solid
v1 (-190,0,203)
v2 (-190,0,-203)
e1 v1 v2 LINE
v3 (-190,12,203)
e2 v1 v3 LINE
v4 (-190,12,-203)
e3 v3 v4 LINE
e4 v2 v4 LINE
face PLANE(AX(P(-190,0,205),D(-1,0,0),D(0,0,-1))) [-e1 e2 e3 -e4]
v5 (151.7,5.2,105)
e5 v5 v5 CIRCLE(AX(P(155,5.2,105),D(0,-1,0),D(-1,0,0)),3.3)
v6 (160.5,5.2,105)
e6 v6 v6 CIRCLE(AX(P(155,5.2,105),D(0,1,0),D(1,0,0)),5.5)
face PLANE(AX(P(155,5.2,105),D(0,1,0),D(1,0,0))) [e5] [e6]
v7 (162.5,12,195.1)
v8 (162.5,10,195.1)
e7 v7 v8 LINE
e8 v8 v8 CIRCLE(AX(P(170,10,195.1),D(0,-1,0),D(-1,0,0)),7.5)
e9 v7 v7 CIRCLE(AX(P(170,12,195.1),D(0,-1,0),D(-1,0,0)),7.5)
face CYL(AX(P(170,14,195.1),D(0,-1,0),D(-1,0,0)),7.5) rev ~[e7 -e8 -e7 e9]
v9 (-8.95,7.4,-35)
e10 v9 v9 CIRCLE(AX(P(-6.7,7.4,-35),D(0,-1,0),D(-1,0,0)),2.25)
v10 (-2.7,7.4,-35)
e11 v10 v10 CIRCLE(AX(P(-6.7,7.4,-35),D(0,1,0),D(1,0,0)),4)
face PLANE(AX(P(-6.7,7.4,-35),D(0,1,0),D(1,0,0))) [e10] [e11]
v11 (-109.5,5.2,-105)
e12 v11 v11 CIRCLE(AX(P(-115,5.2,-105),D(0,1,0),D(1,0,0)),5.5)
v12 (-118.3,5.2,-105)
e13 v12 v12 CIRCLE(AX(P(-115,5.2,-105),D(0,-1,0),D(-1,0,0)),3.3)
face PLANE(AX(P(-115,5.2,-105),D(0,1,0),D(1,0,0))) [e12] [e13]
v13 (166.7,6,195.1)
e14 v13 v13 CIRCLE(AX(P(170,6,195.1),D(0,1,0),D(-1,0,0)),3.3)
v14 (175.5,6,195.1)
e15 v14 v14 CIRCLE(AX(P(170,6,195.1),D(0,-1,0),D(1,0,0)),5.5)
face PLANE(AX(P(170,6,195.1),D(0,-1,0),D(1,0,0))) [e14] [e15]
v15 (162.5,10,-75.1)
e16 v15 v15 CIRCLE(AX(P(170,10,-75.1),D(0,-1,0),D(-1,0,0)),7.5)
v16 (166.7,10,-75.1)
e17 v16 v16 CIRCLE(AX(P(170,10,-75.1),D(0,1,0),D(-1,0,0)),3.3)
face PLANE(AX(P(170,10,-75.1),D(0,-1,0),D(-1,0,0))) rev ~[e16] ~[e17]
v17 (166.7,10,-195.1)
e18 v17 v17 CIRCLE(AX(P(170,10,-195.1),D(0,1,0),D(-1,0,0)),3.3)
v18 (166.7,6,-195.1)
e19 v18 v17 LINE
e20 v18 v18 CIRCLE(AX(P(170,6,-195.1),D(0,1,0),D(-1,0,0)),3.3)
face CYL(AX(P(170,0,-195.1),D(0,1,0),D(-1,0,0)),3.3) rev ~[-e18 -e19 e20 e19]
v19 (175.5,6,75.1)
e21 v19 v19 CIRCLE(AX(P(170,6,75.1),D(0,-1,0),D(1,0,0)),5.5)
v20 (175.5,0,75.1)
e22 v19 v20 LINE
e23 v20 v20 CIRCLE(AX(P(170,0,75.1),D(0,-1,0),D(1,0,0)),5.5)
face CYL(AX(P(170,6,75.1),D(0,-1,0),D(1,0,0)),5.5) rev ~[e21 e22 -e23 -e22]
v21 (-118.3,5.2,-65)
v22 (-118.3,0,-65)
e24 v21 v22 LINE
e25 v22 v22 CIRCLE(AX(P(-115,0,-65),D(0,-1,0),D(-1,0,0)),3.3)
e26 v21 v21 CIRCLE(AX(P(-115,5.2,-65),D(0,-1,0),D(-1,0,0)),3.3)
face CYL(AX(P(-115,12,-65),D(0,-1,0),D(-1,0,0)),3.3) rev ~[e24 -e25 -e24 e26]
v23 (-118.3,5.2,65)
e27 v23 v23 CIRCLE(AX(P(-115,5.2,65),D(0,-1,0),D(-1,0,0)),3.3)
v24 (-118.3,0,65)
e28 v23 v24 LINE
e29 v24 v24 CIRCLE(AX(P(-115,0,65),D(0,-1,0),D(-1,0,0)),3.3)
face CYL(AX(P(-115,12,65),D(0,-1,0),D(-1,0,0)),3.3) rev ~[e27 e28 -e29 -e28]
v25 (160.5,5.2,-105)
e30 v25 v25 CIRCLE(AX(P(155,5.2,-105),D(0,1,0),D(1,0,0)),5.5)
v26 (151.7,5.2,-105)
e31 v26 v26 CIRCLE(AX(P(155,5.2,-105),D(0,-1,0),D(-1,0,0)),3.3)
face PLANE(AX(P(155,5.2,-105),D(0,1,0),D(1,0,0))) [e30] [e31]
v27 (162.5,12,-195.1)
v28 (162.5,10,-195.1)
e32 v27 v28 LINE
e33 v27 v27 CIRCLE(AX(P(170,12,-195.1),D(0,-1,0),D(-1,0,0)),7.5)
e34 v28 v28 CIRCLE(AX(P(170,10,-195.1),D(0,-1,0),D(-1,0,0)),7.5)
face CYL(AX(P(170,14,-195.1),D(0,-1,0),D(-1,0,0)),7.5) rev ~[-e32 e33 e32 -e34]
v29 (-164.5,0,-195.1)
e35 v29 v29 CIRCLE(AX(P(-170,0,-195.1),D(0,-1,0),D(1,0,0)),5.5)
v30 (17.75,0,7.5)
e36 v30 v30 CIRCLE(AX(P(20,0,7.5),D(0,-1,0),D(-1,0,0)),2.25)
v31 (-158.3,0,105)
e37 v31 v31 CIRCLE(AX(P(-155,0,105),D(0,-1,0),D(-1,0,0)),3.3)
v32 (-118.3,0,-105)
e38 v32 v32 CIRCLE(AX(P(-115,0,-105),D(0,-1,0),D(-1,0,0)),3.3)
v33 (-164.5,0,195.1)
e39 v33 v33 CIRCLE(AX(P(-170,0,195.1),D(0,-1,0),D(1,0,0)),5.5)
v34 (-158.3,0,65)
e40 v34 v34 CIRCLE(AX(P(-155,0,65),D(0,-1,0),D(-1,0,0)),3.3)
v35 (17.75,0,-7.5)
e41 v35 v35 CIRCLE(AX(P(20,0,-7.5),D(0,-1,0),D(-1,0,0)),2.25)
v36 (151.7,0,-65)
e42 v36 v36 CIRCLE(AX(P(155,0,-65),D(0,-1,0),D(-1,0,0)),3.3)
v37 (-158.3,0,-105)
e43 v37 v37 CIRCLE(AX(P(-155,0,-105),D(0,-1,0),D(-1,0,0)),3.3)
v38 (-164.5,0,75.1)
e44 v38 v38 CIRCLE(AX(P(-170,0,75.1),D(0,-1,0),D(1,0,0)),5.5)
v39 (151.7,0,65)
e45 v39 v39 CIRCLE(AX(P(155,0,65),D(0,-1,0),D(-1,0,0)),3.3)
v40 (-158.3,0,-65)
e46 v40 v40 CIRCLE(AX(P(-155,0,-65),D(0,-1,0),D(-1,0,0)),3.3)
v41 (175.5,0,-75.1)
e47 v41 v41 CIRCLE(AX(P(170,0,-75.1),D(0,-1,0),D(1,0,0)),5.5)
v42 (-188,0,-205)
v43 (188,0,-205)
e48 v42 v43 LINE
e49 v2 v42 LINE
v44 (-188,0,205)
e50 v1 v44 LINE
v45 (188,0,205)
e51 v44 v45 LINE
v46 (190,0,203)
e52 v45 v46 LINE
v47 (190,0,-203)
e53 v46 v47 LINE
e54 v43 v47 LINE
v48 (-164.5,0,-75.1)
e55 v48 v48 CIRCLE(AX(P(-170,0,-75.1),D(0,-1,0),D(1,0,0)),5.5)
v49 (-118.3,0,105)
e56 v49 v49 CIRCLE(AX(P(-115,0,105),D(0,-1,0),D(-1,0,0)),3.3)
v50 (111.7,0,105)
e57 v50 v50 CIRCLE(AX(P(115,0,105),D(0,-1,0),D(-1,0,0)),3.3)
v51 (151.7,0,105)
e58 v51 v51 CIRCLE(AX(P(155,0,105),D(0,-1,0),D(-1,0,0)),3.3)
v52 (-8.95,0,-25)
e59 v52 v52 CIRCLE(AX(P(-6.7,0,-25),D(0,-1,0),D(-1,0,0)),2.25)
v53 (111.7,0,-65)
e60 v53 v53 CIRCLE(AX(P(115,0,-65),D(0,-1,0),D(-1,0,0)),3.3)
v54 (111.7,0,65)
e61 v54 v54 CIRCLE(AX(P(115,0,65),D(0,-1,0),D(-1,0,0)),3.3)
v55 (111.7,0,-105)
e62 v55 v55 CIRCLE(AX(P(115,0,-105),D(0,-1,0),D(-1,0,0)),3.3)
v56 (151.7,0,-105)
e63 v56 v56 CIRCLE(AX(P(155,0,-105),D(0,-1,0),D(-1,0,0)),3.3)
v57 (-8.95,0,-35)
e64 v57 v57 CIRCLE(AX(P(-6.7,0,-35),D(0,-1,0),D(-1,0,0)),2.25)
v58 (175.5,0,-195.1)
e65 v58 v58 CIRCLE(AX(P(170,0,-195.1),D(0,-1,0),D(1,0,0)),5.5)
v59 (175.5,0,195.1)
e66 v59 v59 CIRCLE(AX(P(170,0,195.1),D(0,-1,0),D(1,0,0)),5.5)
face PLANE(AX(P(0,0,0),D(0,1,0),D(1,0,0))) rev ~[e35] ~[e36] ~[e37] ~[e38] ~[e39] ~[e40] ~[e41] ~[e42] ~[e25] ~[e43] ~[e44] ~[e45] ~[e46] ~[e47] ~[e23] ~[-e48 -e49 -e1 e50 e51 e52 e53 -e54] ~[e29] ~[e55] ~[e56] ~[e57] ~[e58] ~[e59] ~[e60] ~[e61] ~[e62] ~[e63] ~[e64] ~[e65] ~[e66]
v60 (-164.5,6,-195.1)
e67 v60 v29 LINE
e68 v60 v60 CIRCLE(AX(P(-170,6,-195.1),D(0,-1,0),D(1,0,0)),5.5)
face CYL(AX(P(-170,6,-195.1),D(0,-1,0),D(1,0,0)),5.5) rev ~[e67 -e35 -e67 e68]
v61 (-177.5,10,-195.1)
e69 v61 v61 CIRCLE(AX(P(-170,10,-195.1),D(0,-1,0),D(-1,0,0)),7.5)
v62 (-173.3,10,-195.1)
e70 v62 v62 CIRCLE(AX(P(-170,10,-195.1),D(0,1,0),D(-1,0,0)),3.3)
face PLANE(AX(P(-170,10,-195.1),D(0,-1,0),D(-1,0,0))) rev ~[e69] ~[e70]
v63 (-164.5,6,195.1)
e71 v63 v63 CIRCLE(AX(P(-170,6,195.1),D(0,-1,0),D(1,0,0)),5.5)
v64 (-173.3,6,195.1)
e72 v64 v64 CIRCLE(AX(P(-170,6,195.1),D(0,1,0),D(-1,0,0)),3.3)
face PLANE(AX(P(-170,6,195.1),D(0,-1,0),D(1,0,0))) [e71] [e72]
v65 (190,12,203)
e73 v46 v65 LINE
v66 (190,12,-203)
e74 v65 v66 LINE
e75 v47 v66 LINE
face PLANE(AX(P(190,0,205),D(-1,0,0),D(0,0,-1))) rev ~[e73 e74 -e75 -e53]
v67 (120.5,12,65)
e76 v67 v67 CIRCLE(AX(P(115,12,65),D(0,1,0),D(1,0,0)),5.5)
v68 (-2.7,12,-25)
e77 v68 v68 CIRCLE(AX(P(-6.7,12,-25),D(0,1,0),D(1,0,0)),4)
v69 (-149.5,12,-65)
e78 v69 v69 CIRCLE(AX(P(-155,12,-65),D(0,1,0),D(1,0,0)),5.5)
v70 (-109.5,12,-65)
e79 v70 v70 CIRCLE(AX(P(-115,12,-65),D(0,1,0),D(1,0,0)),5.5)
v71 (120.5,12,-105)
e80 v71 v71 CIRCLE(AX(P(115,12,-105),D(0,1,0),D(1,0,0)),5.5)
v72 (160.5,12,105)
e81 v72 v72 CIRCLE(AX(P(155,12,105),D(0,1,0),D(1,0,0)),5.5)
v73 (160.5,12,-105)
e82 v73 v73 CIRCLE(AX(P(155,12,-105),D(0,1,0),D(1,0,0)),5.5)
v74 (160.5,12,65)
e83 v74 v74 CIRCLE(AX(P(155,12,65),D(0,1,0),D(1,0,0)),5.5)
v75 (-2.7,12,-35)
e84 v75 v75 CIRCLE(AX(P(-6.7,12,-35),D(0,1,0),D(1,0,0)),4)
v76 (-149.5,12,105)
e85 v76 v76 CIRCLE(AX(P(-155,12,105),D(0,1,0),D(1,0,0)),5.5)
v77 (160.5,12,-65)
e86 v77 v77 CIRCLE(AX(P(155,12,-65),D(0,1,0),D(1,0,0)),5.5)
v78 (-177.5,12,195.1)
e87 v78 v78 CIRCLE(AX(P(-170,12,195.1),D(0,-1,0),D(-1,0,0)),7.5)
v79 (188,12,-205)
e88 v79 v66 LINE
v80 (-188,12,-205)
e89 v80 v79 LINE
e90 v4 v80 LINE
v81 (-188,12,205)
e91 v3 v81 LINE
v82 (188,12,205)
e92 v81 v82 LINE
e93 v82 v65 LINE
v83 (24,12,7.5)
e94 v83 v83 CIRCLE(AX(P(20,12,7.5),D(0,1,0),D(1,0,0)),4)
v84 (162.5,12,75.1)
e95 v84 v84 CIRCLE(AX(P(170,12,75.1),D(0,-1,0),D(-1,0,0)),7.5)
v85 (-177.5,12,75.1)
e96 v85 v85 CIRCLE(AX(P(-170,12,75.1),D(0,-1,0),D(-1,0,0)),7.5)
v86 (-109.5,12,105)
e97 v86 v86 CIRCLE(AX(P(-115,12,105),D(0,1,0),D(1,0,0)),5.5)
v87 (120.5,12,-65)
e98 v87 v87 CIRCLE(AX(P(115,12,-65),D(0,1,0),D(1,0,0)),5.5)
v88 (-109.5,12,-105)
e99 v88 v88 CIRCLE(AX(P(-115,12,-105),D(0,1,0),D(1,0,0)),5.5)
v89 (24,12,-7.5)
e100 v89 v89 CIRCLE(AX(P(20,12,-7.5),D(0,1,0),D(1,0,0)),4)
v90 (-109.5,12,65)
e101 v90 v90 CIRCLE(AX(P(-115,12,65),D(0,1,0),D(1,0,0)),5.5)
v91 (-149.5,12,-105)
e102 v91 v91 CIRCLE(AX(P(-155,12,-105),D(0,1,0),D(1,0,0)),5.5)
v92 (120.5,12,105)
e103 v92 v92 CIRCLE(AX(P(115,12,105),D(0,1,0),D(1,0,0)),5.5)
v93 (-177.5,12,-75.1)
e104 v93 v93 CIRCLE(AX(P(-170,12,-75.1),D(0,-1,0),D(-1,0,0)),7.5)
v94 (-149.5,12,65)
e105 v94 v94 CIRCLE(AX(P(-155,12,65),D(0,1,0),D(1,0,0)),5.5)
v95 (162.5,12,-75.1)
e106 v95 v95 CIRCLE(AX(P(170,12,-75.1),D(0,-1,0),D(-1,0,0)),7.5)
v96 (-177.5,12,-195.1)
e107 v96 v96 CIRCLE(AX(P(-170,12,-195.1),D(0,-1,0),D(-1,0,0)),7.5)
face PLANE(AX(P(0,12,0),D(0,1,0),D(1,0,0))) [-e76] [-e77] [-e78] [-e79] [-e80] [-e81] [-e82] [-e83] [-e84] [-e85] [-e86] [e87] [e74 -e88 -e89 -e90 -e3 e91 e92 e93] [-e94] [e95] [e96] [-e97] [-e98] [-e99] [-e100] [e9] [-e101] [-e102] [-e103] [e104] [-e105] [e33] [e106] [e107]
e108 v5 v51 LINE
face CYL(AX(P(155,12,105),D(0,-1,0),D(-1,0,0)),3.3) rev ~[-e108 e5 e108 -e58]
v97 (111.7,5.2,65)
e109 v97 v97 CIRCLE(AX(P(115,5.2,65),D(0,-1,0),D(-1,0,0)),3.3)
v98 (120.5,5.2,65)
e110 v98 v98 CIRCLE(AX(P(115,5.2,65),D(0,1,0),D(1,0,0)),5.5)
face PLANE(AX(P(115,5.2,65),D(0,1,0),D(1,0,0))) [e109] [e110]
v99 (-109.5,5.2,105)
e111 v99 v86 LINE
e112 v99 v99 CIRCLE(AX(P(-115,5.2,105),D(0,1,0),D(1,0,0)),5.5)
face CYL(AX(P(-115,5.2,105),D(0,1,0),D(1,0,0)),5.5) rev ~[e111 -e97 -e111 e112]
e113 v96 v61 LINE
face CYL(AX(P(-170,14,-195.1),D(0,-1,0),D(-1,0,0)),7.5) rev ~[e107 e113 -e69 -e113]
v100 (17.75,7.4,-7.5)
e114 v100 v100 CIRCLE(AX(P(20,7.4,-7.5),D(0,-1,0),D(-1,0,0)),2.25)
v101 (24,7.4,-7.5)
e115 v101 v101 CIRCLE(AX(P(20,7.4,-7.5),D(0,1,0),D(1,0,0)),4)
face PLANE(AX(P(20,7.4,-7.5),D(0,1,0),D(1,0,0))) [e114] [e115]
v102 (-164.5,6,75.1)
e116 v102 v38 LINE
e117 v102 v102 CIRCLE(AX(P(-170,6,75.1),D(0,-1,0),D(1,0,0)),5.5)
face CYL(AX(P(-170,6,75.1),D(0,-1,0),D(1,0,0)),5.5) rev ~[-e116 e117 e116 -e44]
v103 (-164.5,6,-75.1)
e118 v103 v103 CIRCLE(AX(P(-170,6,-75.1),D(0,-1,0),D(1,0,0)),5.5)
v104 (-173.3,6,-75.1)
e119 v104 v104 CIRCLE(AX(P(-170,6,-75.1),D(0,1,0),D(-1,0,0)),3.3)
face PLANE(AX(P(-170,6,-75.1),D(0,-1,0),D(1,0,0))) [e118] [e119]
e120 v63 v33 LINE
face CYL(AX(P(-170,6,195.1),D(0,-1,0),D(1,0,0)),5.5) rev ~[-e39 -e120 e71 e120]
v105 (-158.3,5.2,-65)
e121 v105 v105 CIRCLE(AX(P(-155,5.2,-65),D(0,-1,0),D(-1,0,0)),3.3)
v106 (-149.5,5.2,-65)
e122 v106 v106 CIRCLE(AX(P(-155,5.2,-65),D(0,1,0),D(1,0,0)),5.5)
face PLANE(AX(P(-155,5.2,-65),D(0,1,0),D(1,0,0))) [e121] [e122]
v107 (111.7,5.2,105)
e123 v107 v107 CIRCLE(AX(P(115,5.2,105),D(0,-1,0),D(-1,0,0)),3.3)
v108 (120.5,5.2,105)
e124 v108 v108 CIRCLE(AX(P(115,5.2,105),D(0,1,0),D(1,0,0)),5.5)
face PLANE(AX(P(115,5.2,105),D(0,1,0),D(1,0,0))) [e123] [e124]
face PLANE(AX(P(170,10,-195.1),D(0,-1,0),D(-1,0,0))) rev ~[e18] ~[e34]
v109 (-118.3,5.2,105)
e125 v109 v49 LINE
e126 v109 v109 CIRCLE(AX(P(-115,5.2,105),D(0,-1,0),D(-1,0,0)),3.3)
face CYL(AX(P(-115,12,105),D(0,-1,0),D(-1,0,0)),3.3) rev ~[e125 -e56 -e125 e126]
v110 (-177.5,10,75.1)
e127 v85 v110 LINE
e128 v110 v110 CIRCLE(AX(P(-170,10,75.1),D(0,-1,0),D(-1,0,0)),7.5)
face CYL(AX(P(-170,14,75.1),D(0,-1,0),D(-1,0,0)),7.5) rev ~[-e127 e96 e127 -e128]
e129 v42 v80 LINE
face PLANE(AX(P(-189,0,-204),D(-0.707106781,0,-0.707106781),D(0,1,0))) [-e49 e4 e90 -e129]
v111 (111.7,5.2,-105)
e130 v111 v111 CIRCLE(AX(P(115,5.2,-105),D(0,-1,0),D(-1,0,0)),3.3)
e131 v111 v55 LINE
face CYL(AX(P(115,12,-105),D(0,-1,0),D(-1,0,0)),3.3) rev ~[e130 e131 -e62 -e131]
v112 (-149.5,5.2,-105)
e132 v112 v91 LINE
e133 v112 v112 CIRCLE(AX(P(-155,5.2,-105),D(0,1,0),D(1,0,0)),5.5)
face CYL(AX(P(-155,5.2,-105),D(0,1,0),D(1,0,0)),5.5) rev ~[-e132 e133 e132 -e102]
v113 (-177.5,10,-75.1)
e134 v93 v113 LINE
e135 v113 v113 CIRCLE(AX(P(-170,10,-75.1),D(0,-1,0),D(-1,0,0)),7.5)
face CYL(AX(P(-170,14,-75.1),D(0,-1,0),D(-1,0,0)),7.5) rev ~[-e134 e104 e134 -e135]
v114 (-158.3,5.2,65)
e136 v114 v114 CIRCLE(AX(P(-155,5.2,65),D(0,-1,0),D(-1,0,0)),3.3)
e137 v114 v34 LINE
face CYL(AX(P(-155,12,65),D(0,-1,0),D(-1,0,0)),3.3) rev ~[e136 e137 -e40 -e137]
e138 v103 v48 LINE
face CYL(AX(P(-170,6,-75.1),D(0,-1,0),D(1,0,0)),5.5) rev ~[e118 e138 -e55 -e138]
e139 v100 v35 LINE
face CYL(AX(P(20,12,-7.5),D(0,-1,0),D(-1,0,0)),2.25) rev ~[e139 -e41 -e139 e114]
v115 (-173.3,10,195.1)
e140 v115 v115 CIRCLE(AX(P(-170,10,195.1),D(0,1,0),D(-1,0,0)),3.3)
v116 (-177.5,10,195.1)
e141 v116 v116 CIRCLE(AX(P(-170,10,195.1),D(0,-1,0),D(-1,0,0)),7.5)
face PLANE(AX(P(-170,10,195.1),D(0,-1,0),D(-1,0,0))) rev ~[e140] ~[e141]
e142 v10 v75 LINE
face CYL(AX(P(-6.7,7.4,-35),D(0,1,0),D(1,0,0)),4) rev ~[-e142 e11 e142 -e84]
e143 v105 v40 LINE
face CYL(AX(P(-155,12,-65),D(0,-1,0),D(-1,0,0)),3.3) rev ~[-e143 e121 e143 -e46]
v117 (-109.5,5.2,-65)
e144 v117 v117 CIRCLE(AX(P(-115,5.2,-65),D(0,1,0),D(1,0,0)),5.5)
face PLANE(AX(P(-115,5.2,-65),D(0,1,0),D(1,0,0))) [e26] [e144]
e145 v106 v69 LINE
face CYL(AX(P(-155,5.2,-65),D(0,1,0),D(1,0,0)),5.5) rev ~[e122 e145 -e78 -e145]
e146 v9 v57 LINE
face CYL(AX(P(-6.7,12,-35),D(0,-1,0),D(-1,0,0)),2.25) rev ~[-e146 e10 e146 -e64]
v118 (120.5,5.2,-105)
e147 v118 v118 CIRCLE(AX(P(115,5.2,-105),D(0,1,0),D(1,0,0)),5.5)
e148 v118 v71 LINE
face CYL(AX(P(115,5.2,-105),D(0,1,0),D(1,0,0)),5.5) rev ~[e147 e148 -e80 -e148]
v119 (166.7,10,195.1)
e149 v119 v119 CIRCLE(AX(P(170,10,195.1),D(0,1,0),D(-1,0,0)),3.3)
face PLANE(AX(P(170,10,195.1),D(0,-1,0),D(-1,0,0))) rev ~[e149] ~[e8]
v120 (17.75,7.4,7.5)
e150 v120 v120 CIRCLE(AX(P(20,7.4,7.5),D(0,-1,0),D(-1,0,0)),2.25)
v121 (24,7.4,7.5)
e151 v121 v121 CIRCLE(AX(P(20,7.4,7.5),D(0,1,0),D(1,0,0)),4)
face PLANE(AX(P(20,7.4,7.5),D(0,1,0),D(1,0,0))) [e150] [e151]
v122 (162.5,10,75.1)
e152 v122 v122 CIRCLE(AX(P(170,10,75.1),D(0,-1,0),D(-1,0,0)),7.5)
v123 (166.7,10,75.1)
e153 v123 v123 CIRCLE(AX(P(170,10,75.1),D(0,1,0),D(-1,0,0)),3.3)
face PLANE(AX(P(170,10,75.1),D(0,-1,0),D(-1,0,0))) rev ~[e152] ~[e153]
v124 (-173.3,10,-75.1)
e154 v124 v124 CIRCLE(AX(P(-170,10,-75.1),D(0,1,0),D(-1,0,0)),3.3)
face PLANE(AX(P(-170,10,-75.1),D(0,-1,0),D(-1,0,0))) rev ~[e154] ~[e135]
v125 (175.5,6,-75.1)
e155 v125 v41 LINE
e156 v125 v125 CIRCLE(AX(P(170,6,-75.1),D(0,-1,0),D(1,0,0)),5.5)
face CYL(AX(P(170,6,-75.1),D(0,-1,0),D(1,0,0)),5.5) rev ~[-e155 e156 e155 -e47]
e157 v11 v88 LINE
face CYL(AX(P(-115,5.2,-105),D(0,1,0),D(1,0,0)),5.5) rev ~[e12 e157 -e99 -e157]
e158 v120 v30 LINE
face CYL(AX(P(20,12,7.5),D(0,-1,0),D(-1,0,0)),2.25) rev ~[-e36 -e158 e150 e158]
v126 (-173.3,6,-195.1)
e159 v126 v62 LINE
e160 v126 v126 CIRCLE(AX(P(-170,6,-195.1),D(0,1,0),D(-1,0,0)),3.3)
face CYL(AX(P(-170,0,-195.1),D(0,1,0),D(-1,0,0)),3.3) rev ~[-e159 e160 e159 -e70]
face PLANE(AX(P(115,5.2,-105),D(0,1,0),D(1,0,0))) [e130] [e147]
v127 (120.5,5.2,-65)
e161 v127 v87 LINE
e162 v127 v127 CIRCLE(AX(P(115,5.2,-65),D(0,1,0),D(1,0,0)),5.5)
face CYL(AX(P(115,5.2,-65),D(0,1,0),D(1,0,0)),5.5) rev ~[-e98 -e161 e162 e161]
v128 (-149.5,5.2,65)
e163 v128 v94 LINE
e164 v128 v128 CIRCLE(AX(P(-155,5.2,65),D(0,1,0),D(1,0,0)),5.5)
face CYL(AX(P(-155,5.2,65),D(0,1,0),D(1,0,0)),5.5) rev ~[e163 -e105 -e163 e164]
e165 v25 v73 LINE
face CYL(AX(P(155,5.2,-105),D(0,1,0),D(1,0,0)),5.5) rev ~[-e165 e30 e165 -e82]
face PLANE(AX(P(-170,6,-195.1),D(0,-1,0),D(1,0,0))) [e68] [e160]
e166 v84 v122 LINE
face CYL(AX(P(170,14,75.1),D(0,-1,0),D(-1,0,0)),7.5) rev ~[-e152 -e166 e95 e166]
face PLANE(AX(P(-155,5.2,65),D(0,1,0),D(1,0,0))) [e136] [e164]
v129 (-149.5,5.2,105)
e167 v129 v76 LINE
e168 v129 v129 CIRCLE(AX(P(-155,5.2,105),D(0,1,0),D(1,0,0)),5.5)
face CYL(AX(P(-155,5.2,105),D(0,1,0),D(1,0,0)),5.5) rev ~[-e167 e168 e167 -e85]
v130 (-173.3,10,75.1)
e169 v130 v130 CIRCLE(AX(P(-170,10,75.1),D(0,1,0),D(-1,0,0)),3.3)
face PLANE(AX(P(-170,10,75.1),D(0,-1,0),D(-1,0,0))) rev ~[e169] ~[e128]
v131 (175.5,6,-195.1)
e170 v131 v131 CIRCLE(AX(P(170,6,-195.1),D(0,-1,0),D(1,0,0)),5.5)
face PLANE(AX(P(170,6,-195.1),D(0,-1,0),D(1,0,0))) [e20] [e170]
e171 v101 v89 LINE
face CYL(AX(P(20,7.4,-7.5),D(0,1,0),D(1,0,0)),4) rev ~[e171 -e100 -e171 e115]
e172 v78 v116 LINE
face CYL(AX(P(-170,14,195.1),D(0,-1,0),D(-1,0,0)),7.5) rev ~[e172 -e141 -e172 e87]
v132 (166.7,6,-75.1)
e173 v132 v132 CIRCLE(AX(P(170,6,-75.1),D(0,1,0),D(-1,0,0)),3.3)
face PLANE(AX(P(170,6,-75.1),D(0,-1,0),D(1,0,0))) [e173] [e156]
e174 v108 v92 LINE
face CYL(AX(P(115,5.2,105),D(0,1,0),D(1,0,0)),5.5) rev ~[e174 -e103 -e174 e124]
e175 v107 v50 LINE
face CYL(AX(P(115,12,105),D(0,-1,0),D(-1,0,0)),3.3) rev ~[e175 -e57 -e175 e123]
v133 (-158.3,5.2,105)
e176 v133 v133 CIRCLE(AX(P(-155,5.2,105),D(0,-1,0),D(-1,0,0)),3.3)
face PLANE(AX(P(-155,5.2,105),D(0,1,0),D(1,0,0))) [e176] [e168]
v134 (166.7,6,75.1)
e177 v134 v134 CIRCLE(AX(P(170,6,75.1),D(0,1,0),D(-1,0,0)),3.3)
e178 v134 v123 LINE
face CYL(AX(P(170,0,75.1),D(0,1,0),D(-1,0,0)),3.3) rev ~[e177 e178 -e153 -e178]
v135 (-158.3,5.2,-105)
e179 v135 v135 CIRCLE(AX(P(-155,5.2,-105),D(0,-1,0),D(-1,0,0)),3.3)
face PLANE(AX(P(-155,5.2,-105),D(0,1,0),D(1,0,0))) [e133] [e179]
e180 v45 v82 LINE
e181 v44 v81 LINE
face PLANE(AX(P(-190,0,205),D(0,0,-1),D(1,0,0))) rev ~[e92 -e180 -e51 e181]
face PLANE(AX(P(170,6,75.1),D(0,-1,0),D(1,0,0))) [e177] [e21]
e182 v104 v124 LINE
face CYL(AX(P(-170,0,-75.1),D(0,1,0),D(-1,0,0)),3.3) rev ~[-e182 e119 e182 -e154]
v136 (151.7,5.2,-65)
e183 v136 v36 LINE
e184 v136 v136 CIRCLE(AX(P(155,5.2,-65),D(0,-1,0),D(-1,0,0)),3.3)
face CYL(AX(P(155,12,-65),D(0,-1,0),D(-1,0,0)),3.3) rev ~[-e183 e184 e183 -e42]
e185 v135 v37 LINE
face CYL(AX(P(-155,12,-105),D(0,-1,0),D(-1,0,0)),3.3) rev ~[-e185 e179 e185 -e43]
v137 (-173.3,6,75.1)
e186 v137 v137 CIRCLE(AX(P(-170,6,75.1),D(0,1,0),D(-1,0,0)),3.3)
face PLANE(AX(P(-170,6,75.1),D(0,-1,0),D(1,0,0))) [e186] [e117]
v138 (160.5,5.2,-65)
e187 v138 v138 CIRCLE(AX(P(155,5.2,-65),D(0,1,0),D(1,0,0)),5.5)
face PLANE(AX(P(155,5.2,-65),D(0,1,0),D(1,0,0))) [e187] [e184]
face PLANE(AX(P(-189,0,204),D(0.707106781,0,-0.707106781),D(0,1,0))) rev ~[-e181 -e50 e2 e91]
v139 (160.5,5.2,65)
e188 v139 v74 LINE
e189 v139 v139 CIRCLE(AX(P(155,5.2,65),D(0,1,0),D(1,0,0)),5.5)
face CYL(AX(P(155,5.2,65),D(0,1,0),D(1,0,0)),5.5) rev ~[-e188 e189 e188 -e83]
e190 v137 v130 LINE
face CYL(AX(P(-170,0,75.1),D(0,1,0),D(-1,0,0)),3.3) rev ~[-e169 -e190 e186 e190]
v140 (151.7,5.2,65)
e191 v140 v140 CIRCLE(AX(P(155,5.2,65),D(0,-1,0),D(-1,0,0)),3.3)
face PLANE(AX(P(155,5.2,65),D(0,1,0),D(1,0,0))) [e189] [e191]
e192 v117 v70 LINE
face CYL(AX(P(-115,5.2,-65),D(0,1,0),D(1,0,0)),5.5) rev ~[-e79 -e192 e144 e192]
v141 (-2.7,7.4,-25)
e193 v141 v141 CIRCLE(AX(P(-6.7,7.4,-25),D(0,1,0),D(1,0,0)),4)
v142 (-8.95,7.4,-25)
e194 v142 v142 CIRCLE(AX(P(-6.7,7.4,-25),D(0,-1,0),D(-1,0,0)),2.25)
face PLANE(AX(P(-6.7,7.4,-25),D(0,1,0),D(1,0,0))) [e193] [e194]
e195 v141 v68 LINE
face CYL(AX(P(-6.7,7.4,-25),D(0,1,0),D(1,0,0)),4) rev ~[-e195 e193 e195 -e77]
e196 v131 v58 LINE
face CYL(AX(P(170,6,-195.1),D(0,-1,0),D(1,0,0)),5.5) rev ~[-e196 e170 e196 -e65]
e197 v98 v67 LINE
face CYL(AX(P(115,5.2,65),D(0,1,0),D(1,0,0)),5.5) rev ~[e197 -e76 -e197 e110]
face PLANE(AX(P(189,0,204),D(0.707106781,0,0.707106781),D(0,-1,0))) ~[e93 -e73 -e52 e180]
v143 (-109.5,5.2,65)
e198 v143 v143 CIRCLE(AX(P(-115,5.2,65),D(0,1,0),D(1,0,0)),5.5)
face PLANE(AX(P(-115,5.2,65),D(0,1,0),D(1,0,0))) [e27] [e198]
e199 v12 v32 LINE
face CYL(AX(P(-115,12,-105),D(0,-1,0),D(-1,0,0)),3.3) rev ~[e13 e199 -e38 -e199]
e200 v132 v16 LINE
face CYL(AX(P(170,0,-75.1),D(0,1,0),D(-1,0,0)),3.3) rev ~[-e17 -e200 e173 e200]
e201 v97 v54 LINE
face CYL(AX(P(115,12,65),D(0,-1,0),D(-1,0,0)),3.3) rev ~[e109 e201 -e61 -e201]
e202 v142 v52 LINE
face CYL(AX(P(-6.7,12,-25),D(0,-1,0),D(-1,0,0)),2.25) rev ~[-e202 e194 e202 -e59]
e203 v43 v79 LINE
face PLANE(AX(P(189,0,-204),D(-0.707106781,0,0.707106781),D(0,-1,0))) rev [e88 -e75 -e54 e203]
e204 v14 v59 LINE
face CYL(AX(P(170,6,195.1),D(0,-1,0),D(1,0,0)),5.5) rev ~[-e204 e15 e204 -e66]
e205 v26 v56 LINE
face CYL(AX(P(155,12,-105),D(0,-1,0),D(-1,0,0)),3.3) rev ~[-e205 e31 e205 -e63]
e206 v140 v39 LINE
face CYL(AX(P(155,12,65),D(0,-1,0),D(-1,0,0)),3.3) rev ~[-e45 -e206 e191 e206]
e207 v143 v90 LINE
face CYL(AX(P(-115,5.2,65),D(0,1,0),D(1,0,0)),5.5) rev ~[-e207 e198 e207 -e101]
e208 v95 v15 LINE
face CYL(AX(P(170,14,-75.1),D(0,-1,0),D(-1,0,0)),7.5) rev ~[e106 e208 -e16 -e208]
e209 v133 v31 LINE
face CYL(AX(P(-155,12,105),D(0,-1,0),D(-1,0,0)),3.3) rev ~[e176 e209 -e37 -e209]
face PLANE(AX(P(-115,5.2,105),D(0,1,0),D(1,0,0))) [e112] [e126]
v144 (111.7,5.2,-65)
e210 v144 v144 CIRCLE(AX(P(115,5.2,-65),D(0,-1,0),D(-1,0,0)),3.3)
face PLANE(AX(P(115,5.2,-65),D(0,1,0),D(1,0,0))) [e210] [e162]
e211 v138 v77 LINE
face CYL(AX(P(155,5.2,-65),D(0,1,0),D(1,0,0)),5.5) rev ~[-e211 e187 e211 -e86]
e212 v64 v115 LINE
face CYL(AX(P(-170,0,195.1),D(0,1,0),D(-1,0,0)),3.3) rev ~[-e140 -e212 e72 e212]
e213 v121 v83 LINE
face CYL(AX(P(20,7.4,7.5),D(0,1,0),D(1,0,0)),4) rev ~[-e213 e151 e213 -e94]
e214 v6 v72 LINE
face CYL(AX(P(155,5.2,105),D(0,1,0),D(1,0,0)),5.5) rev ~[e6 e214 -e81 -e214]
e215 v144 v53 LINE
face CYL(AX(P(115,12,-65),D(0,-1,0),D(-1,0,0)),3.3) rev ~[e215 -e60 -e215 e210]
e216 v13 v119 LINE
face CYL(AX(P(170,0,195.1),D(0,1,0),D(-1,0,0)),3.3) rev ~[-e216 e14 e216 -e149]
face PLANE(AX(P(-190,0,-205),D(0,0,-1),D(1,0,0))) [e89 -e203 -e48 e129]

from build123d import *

# Parameters (mm, degrees)
SKETCH_1_W                  = 380
SKETCH_1_H                  = 410
EXTRUDE_1_DEPTH             = 12
HOLE_WIZARD_3_D             = 6.6
HOLE_WIZARD_3_CBORE_D       = 11
HOLE_WIZARD_3_CBORE_DEPTH   = 6.8
HOLE_WIZARD_3_2_D           = 4.5
HOLE_WIZARD_3_2_CBORE_D     = 8
HOLE_WIZARD_3_2_CBORE_DEPTH = 4.6
HOLE_WIZARD_3_3_D           = 6.6
HOLE_WIZARD_3_3_CBORE_D     = 11
HOLE_WIZARD_3_3_CBORE_DEPTH = 6
HOLE_WIZARD_1_D             = 15
HOLE_WIZARD_1_DEPTH         = 2
CHAMFER_1_SIZE              = 2


with BuildPart() as part:
    # 草图1 → 凸台-拉伸1 (new body)
    with BuildSketch(Plane(origin=(0, 0, 0), x_dir=(1, 0, 0), z_dir=(0, 1, 0))):
        Rectangle(SKETCH_1_W, SKETCH_1_H)
    extrude(amount=EXTRUDE_1_DEPTH)

    # Hole Wizard 3 (through all)
    with Locations(Plane(origin=(0, 12, 0), x_dir=(1, 0, 0), z_dir=(0, 1, 0))):
        with Locations((-115, 65), (-115, 105), (-155, 105), (-155, 65), (155, 65), (155, 105), (115, 105), (115, 65), (115, -65), (115, -105), (155, -105), (155, -65), (-155, -65), (-155, -105), (-115, -105), (-115, -65)):
            CounterBoreHole(HOLE_WIZARD_3_D / 2, HOLE_WIZARD_3_CBORE_D / 2, HOLE_WIZARD_3_CBORE_DEPTH)

    # Hole Wizard 3 2 (through all)
    with Locations(Plane(origin=(0, 12, 0), x_dir=(1, 0, 0), z_dir=(0, 1, 0))):
        with Locations((20, 7.5), (20, -7.5), (-6.7, 25), (-6.7, 35)):
            CounterBoreHole(HOLE_WIZARD_3_2_D / 2, HOLE_WIZARD_3_2_CBORE_D / 2, HOLE_WIZARD_3_2_CBORE_DEPTH)

    # Hole Wizard 3 3 (through all)
    with Locations(Plane(origin=(-174.714463093, 0, 28.629345755), x_dir=(1, 0, 0), z_dir=(0, -1, 0))):
        with Locations((4.714463093, -223.729345755), (4.714463093, -103.729345755), (344.714463093, -103.729345755), (344.714463093, -223.729345755), (344.714463093, 166.470654245), (344.714463093, 46.470654245), (4.714463093, 46.470654245), (4.714463093, 166.470654245)):
            CounterBoreHole(HOLE_WIZARD_3_3_D / 2, HOLE_WIZARD_3_3_CBORE_D / 2, HOLE_WIZARD_3_3_CBORE_DEPTH)

    # 孔1
    with Locations(Plane(origin=(0, 12, 0), x_dir=(1, 0, 0), z_dir=(0, 1, 0))):
        with Locations((-170, 75.1), (-170, 195.1), (170, 195.1), (170, 75.1), (170, -75.1), (170, -195.1), (-170, -195.1), (-170, -75.1)):
            Hole(HOLE_WIZARD_1_D / 2, depth=HOLE_WIZARD_1_DEPTH)

    # 倒角1
    chamfer_1_edges = [part.edges().sort_by_distance(p)[0] for p in [
        (190, 6, 205),
        (-190, 6, 205),
        (-190, 6, -205),
        (190, 6, -205),
    ]]
    chamfer(chamfer_1_edges, length=CHAMFER_1_SIZE)


solid = part.part
